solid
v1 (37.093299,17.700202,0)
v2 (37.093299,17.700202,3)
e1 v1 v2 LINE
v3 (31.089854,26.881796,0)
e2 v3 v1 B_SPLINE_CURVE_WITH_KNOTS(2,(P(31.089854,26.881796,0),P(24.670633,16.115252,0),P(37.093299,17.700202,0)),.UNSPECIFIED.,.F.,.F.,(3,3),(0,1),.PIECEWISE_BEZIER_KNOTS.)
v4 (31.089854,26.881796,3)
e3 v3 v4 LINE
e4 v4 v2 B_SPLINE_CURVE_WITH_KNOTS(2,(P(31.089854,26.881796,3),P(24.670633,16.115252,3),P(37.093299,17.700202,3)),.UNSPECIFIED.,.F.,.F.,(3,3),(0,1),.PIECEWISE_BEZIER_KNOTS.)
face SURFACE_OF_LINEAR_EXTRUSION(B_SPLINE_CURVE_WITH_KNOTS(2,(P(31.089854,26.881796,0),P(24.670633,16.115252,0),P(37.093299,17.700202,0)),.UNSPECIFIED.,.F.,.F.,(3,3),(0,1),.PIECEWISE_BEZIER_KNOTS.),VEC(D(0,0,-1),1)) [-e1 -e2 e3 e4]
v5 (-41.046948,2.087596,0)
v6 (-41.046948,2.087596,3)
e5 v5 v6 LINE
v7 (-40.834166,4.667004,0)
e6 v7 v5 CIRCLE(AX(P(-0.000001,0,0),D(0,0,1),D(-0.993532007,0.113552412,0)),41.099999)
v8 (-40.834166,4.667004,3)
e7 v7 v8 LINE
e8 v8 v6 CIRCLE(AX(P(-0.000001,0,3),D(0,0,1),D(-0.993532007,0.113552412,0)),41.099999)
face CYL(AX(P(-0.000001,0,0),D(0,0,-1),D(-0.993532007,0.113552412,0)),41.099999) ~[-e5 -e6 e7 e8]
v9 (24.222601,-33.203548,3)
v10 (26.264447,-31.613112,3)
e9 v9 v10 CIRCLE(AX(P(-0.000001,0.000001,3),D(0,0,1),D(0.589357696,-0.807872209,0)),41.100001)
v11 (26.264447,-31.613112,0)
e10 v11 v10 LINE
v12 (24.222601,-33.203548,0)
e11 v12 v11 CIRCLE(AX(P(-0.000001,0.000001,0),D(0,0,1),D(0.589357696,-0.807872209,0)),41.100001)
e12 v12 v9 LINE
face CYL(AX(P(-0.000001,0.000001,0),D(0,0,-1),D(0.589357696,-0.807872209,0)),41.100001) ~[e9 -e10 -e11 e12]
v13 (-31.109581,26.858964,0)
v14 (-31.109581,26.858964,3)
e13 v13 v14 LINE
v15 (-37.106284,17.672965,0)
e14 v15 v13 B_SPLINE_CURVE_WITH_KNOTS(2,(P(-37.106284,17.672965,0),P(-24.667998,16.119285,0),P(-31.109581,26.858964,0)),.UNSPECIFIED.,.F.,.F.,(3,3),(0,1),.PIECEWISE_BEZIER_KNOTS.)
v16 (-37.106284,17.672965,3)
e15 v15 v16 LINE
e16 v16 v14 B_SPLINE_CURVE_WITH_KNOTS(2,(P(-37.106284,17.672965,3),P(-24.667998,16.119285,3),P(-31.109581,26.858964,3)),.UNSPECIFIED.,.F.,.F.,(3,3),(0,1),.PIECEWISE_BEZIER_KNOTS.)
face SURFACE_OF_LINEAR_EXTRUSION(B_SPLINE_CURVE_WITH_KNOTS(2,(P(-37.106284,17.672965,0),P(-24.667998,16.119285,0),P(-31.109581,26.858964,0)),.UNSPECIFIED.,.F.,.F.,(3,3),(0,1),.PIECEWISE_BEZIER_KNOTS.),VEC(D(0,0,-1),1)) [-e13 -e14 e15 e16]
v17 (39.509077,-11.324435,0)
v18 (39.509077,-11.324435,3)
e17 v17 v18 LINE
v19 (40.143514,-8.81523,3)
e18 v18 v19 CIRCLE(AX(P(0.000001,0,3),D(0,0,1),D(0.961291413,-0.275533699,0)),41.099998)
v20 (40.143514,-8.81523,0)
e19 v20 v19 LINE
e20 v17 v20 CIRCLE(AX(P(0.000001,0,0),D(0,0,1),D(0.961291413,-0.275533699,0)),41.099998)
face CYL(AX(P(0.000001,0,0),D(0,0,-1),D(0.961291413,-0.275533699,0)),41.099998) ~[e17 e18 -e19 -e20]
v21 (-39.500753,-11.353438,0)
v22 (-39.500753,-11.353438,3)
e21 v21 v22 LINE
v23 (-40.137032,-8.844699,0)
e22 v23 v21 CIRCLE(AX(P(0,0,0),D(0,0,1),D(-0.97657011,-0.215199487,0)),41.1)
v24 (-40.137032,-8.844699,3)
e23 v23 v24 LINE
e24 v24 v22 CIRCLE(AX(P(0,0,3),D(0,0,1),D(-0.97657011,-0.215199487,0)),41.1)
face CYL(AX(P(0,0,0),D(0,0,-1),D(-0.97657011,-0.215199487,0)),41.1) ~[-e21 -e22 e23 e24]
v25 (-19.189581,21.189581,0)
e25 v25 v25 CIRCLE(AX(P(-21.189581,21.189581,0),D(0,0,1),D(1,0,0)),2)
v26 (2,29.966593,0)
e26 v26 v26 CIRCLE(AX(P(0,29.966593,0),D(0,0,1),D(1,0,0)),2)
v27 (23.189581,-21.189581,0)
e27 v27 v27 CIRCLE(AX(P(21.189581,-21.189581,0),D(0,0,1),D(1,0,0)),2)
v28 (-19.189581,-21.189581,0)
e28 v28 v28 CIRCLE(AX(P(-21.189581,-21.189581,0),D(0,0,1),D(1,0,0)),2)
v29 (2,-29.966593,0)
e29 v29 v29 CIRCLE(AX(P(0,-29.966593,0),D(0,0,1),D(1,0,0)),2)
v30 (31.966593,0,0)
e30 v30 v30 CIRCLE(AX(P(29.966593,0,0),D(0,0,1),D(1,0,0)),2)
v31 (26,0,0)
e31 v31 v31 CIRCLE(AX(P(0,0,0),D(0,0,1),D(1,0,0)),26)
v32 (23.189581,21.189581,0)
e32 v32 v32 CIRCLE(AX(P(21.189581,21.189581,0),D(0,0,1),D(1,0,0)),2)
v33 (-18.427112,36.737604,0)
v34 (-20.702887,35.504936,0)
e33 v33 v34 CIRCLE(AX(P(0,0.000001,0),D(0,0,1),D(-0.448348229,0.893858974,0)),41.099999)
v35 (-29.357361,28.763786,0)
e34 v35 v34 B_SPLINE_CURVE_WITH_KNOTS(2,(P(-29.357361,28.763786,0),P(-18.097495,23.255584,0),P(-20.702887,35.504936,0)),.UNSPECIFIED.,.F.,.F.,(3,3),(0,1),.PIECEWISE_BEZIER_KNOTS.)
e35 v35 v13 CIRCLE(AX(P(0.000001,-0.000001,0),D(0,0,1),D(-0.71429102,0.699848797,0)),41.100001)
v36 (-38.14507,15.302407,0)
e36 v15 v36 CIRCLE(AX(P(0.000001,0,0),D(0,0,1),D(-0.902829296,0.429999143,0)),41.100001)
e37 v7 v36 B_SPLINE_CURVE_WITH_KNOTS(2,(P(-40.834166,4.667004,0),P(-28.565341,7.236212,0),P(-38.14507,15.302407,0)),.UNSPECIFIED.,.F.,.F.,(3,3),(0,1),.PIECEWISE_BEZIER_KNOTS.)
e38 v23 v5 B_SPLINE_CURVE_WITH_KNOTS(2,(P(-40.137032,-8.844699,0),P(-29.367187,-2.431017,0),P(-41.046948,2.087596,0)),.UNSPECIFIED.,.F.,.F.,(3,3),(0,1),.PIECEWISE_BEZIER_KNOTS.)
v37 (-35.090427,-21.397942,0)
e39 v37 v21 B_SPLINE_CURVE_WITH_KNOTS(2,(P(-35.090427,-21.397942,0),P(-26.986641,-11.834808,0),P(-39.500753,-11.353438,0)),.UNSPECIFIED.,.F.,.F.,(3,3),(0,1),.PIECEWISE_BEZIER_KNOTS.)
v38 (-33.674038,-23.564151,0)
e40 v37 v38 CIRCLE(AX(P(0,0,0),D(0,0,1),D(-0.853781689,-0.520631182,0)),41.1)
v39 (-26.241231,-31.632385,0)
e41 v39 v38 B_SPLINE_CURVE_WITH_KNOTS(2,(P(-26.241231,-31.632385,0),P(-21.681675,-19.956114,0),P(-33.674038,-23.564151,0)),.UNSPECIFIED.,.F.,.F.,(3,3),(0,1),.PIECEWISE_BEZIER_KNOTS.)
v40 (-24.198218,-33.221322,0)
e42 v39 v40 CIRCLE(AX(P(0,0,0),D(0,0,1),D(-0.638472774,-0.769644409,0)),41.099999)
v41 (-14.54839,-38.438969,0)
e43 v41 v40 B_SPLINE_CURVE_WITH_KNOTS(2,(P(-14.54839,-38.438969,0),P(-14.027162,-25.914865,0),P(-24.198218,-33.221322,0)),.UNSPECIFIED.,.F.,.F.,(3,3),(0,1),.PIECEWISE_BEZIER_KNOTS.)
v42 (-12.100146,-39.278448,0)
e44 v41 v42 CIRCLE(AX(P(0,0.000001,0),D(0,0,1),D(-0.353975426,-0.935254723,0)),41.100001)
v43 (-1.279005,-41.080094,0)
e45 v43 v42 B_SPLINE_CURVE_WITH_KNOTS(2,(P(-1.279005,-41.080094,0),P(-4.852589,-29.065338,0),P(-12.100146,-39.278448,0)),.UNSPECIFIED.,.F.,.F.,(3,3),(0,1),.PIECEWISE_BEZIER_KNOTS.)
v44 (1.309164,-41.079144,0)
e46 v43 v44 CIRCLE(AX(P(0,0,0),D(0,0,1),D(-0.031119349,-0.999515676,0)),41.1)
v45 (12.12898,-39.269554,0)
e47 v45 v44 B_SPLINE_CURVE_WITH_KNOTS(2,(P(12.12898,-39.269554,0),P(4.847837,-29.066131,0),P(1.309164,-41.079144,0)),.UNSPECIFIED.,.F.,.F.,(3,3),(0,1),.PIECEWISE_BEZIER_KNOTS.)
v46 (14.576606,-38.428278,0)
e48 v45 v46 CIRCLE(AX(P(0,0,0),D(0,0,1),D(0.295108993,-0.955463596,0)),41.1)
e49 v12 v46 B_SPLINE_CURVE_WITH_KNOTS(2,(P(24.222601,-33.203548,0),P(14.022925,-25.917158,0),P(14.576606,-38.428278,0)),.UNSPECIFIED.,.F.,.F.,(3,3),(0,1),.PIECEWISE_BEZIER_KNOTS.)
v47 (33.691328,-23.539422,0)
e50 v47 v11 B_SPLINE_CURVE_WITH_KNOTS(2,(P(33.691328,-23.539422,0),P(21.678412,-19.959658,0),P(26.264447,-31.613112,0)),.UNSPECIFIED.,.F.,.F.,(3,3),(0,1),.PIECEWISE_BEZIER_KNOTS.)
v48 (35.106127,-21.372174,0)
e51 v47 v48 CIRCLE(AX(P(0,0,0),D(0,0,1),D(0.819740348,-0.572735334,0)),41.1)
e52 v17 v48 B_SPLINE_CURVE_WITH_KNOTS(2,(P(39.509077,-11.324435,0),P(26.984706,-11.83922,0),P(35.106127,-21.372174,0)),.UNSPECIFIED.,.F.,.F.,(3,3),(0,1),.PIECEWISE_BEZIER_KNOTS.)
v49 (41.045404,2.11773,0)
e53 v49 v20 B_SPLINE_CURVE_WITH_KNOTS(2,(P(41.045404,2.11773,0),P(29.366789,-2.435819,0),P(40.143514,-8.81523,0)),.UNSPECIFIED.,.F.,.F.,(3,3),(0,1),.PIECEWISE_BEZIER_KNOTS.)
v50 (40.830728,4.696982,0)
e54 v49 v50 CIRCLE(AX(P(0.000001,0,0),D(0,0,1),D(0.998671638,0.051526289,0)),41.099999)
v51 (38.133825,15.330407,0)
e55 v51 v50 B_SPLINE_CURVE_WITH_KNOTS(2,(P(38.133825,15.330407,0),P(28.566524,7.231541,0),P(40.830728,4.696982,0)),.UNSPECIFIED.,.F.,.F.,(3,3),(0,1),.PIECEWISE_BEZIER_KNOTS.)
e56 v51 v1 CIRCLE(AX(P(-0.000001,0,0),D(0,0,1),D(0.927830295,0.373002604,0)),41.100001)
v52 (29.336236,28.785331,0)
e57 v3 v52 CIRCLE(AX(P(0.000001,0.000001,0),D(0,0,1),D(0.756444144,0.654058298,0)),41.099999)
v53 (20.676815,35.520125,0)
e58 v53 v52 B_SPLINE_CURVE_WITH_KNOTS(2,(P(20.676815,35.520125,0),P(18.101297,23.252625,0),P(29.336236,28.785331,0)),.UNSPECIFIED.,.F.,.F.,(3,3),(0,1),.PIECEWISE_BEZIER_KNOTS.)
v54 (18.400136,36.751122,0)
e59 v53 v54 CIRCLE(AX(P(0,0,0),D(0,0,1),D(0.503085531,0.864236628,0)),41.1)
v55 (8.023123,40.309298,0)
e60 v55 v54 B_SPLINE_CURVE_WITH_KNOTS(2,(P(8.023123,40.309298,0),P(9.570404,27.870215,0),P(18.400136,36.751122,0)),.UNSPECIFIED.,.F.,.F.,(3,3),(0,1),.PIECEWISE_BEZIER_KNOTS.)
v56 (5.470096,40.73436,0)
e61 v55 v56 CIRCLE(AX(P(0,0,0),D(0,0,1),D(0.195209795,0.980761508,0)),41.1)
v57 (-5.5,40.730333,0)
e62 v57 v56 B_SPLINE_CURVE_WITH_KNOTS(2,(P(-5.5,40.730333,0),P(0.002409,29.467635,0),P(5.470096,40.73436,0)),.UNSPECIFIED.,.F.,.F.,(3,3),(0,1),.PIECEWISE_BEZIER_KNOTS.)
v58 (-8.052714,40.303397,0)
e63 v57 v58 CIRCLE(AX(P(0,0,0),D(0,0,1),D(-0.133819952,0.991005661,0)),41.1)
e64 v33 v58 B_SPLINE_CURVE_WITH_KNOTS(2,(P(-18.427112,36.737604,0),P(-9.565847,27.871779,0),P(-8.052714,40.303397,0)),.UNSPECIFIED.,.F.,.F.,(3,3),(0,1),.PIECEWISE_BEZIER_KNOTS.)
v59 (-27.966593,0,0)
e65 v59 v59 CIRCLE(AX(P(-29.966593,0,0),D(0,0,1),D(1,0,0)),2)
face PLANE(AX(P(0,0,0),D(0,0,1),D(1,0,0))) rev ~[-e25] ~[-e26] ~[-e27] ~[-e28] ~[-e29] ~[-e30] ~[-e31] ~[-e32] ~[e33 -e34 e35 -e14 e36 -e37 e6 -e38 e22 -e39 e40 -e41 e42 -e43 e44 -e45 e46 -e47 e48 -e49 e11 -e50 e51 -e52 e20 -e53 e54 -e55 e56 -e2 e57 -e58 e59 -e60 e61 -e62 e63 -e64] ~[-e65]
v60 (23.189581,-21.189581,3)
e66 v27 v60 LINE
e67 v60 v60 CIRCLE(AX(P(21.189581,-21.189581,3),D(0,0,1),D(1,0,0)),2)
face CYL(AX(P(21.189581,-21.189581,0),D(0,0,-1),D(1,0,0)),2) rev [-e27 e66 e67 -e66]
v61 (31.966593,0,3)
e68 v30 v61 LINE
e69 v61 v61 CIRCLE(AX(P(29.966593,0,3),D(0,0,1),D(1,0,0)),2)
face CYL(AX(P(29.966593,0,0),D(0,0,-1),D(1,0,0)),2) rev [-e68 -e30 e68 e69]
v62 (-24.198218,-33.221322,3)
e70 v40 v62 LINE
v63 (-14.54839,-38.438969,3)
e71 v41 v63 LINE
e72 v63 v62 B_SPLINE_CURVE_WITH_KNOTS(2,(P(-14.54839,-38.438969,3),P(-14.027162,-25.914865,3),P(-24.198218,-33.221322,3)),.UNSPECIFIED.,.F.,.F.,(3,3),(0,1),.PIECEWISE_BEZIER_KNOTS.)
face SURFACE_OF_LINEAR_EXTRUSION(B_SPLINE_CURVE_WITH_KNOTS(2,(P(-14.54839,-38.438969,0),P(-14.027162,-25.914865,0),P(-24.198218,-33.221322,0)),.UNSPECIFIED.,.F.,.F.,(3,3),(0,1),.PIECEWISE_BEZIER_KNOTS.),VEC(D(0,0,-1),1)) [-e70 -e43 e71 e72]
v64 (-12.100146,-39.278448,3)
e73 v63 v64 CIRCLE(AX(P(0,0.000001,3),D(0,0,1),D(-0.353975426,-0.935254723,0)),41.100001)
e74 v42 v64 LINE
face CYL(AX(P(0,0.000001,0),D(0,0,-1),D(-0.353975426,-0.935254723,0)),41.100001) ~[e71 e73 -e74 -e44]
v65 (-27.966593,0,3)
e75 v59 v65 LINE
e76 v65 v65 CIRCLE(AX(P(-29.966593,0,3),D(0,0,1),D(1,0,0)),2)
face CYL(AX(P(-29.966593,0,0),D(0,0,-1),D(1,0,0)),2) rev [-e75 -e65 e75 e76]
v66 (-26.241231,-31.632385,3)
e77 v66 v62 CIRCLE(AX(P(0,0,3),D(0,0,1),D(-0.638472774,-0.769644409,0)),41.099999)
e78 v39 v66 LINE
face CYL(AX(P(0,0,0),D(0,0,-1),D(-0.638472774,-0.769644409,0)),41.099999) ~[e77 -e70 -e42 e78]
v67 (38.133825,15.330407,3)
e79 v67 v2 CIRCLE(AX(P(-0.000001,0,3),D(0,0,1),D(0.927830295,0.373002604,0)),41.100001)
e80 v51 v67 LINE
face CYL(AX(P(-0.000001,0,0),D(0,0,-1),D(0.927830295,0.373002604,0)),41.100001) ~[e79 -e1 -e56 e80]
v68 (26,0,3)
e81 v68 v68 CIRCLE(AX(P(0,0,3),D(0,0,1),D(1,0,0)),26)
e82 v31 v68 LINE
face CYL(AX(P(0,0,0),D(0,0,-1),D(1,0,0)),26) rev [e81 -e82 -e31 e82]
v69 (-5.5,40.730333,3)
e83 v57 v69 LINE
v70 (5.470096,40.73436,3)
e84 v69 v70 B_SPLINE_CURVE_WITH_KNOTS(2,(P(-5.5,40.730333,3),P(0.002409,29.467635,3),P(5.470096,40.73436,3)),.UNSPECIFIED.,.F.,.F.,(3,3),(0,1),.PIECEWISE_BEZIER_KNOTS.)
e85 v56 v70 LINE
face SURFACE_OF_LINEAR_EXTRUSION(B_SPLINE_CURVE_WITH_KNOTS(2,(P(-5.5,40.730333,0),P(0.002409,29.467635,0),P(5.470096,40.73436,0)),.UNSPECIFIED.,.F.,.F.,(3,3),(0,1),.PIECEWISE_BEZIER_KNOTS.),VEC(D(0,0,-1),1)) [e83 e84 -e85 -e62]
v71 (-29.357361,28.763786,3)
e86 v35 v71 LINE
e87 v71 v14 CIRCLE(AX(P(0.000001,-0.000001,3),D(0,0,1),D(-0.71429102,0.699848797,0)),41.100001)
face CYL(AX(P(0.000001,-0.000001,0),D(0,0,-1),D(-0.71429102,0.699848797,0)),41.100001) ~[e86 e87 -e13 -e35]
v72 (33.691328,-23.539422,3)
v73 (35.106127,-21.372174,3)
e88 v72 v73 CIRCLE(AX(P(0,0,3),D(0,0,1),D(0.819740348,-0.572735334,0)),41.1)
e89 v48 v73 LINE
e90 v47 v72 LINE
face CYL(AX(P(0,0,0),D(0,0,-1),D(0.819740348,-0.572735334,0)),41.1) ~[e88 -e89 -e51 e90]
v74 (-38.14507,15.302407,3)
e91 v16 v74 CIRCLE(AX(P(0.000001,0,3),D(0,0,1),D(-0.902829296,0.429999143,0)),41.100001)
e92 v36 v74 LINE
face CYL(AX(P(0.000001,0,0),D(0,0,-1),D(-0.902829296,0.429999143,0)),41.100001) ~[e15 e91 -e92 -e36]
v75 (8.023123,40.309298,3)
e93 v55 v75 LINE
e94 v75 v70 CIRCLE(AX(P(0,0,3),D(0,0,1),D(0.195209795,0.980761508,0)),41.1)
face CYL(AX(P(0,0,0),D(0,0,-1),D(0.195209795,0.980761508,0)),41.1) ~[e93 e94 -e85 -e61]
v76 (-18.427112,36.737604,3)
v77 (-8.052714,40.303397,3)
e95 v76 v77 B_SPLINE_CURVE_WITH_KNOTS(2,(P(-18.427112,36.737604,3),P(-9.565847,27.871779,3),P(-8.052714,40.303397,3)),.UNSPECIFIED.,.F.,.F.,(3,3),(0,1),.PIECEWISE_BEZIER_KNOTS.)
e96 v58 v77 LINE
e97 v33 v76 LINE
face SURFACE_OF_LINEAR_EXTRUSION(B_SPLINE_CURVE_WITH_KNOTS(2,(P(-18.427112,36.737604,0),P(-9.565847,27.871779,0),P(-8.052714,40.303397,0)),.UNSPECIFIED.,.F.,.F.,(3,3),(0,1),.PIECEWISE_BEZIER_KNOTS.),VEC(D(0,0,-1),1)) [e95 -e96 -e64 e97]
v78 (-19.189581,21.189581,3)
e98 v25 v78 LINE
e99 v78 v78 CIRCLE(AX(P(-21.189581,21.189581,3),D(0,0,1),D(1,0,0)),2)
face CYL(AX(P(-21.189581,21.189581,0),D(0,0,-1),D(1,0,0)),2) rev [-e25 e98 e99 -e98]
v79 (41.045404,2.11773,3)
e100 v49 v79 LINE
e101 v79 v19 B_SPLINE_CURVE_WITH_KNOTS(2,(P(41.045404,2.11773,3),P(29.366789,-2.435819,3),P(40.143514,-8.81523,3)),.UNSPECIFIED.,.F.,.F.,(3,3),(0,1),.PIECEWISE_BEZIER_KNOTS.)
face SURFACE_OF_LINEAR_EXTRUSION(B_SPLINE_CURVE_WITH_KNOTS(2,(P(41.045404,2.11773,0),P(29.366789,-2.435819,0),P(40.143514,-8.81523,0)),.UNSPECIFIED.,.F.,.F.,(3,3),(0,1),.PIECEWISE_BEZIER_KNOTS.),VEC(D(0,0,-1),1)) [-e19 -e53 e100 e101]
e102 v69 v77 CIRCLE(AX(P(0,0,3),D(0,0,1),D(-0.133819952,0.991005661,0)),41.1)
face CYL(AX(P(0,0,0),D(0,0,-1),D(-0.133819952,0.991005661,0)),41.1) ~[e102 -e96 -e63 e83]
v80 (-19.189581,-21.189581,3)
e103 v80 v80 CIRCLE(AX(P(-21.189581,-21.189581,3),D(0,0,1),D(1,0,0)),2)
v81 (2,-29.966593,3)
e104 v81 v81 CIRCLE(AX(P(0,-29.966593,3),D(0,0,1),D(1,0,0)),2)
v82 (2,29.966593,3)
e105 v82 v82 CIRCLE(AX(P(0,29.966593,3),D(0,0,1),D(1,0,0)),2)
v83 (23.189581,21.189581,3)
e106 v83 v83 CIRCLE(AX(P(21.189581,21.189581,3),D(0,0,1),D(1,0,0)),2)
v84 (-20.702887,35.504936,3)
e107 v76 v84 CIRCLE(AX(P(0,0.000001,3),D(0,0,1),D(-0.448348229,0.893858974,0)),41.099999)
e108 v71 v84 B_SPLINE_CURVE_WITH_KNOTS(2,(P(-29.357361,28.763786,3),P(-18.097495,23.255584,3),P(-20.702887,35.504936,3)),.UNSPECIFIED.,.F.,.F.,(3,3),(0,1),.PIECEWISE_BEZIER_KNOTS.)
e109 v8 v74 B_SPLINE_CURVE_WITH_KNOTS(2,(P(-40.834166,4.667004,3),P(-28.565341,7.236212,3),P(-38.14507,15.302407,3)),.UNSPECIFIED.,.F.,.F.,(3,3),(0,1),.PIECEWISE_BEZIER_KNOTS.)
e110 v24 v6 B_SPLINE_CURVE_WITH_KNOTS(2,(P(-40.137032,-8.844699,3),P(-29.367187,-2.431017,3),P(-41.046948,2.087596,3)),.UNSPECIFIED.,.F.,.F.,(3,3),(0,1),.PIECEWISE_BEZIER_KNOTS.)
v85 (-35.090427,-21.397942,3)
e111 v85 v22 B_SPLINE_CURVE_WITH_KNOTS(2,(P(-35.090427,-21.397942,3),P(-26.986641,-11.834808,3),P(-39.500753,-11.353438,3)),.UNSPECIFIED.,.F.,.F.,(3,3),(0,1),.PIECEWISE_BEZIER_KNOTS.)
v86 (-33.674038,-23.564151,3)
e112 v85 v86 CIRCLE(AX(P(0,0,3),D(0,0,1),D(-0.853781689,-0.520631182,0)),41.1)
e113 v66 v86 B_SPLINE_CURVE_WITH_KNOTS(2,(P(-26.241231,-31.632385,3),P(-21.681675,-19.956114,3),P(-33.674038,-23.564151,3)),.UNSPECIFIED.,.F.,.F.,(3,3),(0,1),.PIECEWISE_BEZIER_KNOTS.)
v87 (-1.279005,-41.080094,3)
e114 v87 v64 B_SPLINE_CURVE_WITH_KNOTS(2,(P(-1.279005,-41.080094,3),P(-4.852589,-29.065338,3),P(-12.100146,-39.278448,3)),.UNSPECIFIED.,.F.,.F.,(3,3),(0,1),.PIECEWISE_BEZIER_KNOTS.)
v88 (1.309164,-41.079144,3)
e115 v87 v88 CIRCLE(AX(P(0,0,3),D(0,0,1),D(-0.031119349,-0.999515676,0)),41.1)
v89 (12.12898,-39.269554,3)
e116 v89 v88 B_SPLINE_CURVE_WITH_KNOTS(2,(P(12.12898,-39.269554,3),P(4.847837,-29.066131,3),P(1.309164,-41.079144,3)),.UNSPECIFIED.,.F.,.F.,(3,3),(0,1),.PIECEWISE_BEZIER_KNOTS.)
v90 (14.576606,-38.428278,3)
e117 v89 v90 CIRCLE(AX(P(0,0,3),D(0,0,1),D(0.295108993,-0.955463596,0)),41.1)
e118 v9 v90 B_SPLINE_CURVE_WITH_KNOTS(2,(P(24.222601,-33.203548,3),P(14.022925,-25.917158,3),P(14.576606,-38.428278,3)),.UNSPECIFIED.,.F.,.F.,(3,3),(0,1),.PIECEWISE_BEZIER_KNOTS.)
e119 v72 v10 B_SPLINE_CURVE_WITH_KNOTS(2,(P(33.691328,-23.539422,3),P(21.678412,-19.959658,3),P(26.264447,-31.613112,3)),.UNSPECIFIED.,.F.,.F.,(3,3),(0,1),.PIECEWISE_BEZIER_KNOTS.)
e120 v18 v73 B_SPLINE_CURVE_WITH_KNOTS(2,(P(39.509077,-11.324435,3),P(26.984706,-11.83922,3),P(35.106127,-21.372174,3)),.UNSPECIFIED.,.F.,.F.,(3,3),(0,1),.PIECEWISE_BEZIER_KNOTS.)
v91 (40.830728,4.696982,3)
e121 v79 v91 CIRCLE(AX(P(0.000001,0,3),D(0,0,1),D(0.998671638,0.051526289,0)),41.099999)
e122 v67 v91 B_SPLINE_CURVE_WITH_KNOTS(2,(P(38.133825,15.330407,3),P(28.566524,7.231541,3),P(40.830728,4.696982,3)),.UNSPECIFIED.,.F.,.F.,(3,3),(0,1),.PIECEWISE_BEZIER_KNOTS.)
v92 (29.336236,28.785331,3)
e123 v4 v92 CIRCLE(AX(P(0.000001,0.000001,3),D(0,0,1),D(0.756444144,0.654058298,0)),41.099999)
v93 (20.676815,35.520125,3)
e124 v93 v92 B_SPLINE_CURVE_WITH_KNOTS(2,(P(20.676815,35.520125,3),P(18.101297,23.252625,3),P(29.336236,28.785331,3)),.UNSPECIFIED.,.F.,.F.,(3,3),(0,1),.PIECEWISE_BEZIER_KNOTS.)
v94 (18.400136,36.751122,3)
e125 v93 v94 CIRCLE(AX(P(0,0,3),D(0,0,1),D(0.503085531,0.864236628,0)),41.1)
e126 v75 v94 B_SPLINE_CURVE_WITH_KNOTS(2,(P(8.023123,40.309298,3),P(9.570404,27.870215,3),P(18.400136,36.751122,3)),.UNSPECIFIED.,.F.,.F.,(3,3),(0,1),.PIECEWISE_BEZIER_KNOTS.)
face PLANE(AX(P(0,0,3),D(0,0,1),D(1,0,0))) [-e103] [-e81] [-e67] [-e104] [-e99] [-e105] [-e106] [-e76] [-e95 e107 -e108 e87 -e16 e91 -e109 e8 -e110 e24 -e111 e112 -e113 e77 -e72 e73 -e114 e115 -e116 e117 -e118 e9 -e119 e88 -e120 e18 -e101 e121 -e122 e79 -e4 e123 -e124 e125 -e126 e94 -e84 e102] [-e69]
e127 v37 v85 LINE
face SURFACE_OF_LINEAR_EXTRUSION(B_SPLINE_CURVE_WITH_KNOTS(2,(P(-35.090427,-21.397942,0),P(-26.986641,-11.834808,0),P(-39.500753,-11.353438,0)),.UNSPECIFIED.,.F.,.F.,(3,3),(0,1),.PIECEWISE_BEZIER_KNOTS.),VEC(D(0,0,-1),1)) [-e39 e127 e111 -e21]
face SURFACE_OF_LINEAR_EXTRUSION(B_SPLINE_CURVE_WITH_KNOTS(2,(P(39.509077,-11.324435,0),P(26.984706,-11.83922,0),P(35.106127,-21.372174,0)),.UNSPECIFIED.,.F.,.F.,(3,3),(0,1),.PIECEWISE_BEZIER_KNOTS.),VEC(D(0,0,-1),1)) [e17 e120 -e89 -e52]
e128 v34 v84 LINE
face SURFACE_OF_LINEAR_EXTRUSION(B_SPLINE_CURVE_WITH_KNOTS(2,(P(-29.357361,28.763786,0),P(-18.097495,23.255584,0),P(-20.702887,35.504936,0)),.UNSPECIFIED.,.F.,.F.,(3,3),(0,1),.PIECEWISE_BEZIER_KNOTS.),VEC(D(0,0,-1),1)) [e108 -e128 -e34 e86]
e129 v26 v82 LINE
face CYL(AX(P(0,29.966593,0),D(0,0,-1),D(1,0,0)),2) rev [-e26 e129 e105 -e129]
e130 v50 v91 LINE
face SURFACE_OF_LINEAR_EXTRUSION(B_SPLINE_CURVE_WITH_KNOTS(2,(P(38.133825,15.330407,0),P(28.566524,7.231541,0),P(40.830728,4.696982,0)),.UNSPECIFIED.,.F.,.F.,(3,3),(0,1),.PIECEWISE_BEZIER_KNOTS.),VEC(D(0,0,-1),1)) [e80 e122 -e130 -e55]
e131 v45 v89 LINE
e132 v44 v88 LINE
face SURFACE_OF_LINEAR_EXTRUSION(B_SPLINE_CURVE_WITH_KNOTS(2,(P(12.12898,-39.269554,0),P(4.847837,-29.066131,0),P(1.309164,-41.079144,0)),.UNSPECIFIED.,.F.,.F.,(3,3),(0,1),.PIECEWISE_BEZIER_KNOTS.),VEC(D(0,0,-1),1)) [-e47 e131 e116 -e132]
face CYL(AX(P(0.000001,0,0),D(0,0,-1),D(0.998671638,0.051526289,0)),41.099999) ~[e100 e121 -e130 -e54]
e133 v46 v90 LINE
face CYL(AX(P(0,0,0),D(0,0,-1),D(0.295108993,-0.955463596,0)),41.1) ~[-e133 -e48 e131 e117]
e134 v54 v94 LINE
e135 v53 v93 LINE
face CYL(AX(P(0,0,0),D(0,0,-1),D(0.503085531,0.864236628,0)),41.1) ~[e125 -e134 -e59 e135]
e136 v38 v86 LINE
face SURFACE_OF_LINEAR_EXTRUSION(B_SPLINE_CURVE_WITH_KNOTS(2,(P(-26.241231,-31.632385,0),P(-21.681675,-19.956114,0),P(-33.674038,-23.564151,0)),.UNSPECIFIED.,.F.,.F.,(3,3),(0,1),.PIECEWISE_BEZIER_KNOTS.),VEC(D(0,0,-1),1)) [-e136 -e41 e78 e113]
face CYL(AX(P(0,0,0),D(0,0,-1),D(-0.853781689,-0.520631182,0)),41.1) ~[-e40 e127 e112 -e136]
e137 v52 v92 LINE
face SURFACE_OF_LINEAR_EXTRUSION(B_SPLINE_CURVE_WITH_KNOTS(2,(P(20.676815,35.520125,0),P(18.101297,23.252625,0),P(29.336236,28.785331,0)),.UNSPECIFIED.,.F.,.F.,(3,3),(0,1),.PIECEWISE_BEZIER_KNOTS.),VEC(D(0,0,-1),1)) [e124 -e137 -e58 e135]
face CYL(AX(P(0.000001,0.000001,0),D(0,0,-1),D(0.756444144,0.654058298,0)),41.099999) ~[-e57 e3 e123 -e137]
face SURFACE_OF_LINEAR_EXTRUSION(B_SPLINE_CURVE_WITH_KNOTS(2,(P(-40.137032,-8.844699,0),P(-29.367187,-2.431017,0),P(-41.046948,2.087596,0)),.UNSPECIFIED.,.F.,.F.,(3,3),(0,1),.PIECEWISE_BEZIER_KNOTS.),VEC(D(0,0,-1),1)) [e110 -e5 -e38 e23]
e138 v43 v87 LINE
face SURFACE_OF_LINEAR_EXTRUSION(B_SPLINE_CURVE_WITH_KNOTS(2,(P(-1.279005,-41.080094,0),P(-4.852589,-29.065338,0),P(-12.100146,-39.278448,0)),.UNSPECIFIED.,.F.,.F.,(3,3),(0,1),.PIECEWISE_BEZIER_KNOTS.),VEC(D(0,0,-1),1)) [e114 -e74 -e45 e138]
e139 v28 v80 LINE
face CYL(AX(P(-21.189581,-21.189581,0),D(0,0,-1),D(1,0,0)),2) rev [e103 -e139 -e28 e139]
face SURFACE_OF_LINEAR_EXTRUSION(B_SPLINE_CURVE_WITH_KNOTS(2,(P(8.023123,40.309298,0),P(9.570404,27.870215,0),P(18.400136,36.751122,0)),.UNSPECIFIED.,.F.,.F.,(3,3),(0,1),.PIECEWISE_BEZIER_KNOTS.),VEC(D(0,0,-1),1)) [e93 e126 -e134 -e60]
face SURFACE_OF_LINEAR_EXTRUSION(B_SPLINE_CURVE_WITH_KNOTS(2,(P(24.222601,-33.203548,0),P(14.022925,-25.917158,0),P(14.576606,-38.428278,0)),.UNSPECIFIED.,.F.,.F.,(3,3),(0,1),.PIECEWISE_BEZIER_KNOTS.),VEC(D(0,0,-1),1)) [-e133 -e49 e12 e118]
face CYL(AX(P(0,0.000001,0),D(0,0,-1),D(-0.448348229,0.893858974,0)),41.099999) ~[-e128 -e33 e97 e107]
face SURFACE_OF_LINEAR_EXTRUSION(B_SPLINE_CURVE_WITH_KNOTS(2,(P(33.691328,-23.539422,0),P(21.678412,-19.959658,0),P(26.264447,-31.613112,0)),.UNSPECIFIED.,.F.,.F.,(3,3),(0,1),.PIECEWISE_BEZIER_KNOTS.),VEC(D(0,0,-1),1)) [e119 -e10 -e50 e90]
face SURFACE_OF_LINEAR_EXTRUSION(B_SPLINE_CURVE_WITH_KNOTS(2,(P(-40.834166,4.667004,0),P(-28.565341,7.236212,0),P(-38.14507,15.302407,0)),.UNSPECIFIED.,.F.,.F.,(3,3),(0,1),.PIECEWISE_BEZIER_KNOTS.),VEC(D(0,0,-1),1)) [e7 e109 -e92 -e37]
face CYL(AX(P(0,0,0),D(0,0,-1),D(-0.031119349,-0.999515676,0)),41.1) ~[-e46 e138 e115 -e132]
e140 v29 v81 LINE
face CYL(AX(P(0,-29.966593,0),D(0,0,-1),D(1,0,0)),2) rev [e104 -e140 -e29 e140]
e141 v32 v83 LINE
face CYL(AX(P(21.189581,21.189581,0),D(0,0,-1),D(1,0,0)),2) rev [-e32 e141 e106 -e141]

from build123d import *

# Parameters (mm, degrees)
SKETCH_1_R      = 26
SKETCH_1_R_2    = 2
EXTRUDE_1_DEPTH = 3


with BuildPart() as part:
    # Эскиз1 → Вытянуть1 (new body)
    with BuildSketch(Plane.XY):
        with BuildLine():
            ThreePointArc((-5.5, 40.730332677), (-6.779718382, 40.536963609), (-8.052713795, 40.303396886))
            add(Edge.make_bspline(
                [(-18.42711223, 36.737603826), (-9.565846889, 27.871779004), (-8.052713795, 40.303396886)],
                knots=[0, 0, 0, 1, 1, 1], degree=2))
            ThreePointArc((-18.42711223, 36.737603826), (-19.574705107, 36.139188148), (-20.702887125, 35.504935779))
            add(Edge.make_bspline(
                [(-29.357360924, 28.763785557), (-18.097494767, 23.255583732), (-20.702887125, 35.504935779)],
                knots=[0, 0, 0, 1, 1, 1], degree=2))
            ThreePointArc((-29.357360924, 28.763785557), (-30.2484688, 27.825170893), (-31.109581398, 26.858963965))
            add(Edge.make_bspline(
                [(-37.106284036, 17.672964807), (-24.667998276, 16.119285114), (-31.109581398, 26.858963965)],
                knots=[0, 0, 0, 1, 1, 1], degree=2))
            ThreePointArc((-37.106284036, 17.672964807), (-37.644341546, 16.49586462), (-38.145069811, 15.302406645))
            add(Edge.make_bspline(
                [(-40.834165508, 4.667004096), (-28.565341408, 7.236211838), (-38.145069811, 15.302406645)],
                knots=[0, 0, 0, 1, 1, 1], degree=2))
            ThreePointArc((-40.834165508, 4.667004096), (-40.960865773, 3.378975456), (-41.046948028, 2.087596124))
            add(Edge.make_bspline(
                [(-40.137031541, -8.844698925), (-29.367186562, -2.431017271), (-41.046948028, 2.087596124)],
                knots=[0, 0, 0, 1, 1, 1], degree=2))
            ThreePointArc((-40.137031541, -8.844698925), (-39.83864462, -10.104078129), (-39.500752518, -11.353437829))
            add(Edge.make_bspline(
                [(-35.090427416, -21.397941578), (-26.986641373, -11.834807939), (-39.500752518, -11.353437829)],
                knots=[0, 0, 0, 1, 1, 1], degree=2))
            ThreePointArc((-35.090427416, -21.397941578), (-34.399288162, -22.492198068), (-33.674037554, -23.564150627))
            add(Edge.make_bspline(
                [(-26.241230996, -31.632385237), (-21.68167485, -19.95611353), (-33.674037554, -23.564150627)],
                knots=[0, 0, 0, 1, 1, 1], degree=2))
            ThreePointArc((-26.241230996, -31.632385237), (-25.232235072, -32.442939344), (-24.198218116, -33.221322069))
            add(Edge.make_bspline(
                [(-14.548390024, -38.438969129), (-14.027162432, -25.91486457), (-24.198218116, -33.221322069)],
                knots=[0, 0, 0, 1, 1, 1], degree=2))
            ThreePointArc((-14.548390024, -38.438969129), (-13.330877794, -38.877984737), (-12.10014627, -39.278447783))
            add(Edge.make_bspline(
                [(-1.27900525, -41.080094274), (-4.85258931, -29.065337922), (-12.10014627, -39.278447783)],
                knots=[0, 0, 0, 1, 1, 1], degree=2))
            ThreePointArc((-1.27900525, -41.080094274), (0.015086944, -41.099997231), (1.309164177, -41.079144212))
            add(Edge.make_bspline(
                [(12.128979588, -39.269553781), (4.84783716, -29.066130916), (1.309164177, -41.079144212)],
                knots=[0, 0, 0, 1, 1, 1], degree=2))
            ThreePointArc((12.128979588, -39.269553781), (13.359416777, -38.868187292), (14.576606372, -38.428277956))
            add(Edge.make_bspline(
                [(24.222601287, -33.203547806), (14.022925251, -25.917157617), (14.576606372, -38.428277956)],
                knots=[0, 0, 0, 1, 1, 1], degree=2))
            ThreePointArc((24.222601287, -33.203547806), (25.256046509, -32.424406158), (26.264447087, -31.613111508))
            add(Edge.make_bspline(
                [(33.691328284, -23.53942222), (21.678411803, -19.959658145), (26.264447087, -31.613111508)],
                knots=[0, 0, 0, 1, 1, 1], degree=2))
            ThreePointArc((33.691328284, -23.53942222), (34.415791714, -22.466937501), (35.106127425, -21.3721739))
            add(Edge.make_bspline(
                [(39.509077087, -11.324434984), (26.984706061, -11.839220006), (35.106127425, -21.3721739)],
                knots=[0, 0, 0, 1, 1, 1], degree=2))
            ThreePointArc((39.509077087, -11.324434984), (39.846051872, -10.074827555), (40.143514129, -8.815229627))
            add(Edge.make_bspline(
                [(41.045404341, 2.117730498), (29.366788706, -2.435818675), (40.143514129, -8.815229627)],
                knots=[0, 0, 0, 1, 1, 1], degree=2))
            ThreePointArc((41.045404341, 2.117730498), (40.958374033, 3.409046284), (40.830728186, 4.696981559))
            add(Edge.make_bspline(
                [(38.13382515, 15.330407021), (28.566524123, 7.231541404), (40.830728186, 4.696981559)],
                knots=[0, 0, 0, 1, 1, 1], degree=2))
            ThreePointArc((38.13382515, 15.330407021), (37.632220833, 16.523497062), (37.093299291, 17.700201912))
            add(Edge.make_bspline(
                [(31.089854296, 26.881796068), (24.670633395, 16.115251764), (37.093299291, 17.700201912)],
                knots=[0, 0, 0, 1, 1, 1], degree=2))
            ThreePointArc((31.089854296, 26.881796068), (30.228032583, 27.847370544), (29.336235855, 28.785330741))
            add(Edge.make_bspline(
                [(20.676815321, 35.520125397), (18.101296735, 23.252624541), (29.336235855, 28.785330741)],
                knots=[0, 0, 0, 1, 1, 1], degree=2))
            ThreePointArc((20.676815321, 35.520125397), (19.548167965, 36.153549331), (18.400136066, 36.751122333))
            add(Edge.make_bspline(
                [(8.023122571, 40.309297987), (9.570403703, 27.870214648), (18.400136066, 36.751122333)],
                knots=[0, 0, 0, 1, 1, 1], degree=2))
            ThreePointArc((8.023122571, 40.309297987), (6.749956027, 40.541930068), (5.470096027, 40.734359569))
            add(Edge.make_bspline(
                [(-5.5, 40.730332677), (0.00240893, 29.467634546), (5.470096027, 40.734359569)],
                knots=[0, 0, 0, 1, 1, 1], degree=2))
        make_face()
        Circle(SKETCH_1_R, mode=Mode.SUBTRACT)
        with Locations((0, 29.966593386)):
            Circle(SKETCH_1_R_2, mode=Mode.SUBTRACT)
        with Locations((21.189581392, 21.189581392)):
            Circle(SKETCH_1_R_2, mode=Mode.SUBTRACT)
        with Locations((29.966593386, 0)):
            Circle(SKETCH_1_R_2, mode=Mode.SUBTRACT)
        with Locations((21.189581392, -21.189581392)):
            Circle(SKETCH_1_R_2, mode=Mode.SUBTRACT)
        with Locations((0, -29.966593386)):
            Circle(SKETCH_1_R_2, mode=Mode.SUBTRACT)
        with Locations((-21.189581392, -21.189581392)):
            Circle(SKETCH_1_R_2, mode=Mode.SUBTRACT)
        with Locations((-29.966593386, 0)):
            Circle(SKETCH_1_R_2, mode=Mode.SUBTRACT)
        with Locations((-21.189581392, 21.189581392)):
            Circle(SKETCH_1_R_2, mode=Mode.SUBTRACT)
    extrude(amount=EXTRUDE_1_DEPTH)


solid = part.part
